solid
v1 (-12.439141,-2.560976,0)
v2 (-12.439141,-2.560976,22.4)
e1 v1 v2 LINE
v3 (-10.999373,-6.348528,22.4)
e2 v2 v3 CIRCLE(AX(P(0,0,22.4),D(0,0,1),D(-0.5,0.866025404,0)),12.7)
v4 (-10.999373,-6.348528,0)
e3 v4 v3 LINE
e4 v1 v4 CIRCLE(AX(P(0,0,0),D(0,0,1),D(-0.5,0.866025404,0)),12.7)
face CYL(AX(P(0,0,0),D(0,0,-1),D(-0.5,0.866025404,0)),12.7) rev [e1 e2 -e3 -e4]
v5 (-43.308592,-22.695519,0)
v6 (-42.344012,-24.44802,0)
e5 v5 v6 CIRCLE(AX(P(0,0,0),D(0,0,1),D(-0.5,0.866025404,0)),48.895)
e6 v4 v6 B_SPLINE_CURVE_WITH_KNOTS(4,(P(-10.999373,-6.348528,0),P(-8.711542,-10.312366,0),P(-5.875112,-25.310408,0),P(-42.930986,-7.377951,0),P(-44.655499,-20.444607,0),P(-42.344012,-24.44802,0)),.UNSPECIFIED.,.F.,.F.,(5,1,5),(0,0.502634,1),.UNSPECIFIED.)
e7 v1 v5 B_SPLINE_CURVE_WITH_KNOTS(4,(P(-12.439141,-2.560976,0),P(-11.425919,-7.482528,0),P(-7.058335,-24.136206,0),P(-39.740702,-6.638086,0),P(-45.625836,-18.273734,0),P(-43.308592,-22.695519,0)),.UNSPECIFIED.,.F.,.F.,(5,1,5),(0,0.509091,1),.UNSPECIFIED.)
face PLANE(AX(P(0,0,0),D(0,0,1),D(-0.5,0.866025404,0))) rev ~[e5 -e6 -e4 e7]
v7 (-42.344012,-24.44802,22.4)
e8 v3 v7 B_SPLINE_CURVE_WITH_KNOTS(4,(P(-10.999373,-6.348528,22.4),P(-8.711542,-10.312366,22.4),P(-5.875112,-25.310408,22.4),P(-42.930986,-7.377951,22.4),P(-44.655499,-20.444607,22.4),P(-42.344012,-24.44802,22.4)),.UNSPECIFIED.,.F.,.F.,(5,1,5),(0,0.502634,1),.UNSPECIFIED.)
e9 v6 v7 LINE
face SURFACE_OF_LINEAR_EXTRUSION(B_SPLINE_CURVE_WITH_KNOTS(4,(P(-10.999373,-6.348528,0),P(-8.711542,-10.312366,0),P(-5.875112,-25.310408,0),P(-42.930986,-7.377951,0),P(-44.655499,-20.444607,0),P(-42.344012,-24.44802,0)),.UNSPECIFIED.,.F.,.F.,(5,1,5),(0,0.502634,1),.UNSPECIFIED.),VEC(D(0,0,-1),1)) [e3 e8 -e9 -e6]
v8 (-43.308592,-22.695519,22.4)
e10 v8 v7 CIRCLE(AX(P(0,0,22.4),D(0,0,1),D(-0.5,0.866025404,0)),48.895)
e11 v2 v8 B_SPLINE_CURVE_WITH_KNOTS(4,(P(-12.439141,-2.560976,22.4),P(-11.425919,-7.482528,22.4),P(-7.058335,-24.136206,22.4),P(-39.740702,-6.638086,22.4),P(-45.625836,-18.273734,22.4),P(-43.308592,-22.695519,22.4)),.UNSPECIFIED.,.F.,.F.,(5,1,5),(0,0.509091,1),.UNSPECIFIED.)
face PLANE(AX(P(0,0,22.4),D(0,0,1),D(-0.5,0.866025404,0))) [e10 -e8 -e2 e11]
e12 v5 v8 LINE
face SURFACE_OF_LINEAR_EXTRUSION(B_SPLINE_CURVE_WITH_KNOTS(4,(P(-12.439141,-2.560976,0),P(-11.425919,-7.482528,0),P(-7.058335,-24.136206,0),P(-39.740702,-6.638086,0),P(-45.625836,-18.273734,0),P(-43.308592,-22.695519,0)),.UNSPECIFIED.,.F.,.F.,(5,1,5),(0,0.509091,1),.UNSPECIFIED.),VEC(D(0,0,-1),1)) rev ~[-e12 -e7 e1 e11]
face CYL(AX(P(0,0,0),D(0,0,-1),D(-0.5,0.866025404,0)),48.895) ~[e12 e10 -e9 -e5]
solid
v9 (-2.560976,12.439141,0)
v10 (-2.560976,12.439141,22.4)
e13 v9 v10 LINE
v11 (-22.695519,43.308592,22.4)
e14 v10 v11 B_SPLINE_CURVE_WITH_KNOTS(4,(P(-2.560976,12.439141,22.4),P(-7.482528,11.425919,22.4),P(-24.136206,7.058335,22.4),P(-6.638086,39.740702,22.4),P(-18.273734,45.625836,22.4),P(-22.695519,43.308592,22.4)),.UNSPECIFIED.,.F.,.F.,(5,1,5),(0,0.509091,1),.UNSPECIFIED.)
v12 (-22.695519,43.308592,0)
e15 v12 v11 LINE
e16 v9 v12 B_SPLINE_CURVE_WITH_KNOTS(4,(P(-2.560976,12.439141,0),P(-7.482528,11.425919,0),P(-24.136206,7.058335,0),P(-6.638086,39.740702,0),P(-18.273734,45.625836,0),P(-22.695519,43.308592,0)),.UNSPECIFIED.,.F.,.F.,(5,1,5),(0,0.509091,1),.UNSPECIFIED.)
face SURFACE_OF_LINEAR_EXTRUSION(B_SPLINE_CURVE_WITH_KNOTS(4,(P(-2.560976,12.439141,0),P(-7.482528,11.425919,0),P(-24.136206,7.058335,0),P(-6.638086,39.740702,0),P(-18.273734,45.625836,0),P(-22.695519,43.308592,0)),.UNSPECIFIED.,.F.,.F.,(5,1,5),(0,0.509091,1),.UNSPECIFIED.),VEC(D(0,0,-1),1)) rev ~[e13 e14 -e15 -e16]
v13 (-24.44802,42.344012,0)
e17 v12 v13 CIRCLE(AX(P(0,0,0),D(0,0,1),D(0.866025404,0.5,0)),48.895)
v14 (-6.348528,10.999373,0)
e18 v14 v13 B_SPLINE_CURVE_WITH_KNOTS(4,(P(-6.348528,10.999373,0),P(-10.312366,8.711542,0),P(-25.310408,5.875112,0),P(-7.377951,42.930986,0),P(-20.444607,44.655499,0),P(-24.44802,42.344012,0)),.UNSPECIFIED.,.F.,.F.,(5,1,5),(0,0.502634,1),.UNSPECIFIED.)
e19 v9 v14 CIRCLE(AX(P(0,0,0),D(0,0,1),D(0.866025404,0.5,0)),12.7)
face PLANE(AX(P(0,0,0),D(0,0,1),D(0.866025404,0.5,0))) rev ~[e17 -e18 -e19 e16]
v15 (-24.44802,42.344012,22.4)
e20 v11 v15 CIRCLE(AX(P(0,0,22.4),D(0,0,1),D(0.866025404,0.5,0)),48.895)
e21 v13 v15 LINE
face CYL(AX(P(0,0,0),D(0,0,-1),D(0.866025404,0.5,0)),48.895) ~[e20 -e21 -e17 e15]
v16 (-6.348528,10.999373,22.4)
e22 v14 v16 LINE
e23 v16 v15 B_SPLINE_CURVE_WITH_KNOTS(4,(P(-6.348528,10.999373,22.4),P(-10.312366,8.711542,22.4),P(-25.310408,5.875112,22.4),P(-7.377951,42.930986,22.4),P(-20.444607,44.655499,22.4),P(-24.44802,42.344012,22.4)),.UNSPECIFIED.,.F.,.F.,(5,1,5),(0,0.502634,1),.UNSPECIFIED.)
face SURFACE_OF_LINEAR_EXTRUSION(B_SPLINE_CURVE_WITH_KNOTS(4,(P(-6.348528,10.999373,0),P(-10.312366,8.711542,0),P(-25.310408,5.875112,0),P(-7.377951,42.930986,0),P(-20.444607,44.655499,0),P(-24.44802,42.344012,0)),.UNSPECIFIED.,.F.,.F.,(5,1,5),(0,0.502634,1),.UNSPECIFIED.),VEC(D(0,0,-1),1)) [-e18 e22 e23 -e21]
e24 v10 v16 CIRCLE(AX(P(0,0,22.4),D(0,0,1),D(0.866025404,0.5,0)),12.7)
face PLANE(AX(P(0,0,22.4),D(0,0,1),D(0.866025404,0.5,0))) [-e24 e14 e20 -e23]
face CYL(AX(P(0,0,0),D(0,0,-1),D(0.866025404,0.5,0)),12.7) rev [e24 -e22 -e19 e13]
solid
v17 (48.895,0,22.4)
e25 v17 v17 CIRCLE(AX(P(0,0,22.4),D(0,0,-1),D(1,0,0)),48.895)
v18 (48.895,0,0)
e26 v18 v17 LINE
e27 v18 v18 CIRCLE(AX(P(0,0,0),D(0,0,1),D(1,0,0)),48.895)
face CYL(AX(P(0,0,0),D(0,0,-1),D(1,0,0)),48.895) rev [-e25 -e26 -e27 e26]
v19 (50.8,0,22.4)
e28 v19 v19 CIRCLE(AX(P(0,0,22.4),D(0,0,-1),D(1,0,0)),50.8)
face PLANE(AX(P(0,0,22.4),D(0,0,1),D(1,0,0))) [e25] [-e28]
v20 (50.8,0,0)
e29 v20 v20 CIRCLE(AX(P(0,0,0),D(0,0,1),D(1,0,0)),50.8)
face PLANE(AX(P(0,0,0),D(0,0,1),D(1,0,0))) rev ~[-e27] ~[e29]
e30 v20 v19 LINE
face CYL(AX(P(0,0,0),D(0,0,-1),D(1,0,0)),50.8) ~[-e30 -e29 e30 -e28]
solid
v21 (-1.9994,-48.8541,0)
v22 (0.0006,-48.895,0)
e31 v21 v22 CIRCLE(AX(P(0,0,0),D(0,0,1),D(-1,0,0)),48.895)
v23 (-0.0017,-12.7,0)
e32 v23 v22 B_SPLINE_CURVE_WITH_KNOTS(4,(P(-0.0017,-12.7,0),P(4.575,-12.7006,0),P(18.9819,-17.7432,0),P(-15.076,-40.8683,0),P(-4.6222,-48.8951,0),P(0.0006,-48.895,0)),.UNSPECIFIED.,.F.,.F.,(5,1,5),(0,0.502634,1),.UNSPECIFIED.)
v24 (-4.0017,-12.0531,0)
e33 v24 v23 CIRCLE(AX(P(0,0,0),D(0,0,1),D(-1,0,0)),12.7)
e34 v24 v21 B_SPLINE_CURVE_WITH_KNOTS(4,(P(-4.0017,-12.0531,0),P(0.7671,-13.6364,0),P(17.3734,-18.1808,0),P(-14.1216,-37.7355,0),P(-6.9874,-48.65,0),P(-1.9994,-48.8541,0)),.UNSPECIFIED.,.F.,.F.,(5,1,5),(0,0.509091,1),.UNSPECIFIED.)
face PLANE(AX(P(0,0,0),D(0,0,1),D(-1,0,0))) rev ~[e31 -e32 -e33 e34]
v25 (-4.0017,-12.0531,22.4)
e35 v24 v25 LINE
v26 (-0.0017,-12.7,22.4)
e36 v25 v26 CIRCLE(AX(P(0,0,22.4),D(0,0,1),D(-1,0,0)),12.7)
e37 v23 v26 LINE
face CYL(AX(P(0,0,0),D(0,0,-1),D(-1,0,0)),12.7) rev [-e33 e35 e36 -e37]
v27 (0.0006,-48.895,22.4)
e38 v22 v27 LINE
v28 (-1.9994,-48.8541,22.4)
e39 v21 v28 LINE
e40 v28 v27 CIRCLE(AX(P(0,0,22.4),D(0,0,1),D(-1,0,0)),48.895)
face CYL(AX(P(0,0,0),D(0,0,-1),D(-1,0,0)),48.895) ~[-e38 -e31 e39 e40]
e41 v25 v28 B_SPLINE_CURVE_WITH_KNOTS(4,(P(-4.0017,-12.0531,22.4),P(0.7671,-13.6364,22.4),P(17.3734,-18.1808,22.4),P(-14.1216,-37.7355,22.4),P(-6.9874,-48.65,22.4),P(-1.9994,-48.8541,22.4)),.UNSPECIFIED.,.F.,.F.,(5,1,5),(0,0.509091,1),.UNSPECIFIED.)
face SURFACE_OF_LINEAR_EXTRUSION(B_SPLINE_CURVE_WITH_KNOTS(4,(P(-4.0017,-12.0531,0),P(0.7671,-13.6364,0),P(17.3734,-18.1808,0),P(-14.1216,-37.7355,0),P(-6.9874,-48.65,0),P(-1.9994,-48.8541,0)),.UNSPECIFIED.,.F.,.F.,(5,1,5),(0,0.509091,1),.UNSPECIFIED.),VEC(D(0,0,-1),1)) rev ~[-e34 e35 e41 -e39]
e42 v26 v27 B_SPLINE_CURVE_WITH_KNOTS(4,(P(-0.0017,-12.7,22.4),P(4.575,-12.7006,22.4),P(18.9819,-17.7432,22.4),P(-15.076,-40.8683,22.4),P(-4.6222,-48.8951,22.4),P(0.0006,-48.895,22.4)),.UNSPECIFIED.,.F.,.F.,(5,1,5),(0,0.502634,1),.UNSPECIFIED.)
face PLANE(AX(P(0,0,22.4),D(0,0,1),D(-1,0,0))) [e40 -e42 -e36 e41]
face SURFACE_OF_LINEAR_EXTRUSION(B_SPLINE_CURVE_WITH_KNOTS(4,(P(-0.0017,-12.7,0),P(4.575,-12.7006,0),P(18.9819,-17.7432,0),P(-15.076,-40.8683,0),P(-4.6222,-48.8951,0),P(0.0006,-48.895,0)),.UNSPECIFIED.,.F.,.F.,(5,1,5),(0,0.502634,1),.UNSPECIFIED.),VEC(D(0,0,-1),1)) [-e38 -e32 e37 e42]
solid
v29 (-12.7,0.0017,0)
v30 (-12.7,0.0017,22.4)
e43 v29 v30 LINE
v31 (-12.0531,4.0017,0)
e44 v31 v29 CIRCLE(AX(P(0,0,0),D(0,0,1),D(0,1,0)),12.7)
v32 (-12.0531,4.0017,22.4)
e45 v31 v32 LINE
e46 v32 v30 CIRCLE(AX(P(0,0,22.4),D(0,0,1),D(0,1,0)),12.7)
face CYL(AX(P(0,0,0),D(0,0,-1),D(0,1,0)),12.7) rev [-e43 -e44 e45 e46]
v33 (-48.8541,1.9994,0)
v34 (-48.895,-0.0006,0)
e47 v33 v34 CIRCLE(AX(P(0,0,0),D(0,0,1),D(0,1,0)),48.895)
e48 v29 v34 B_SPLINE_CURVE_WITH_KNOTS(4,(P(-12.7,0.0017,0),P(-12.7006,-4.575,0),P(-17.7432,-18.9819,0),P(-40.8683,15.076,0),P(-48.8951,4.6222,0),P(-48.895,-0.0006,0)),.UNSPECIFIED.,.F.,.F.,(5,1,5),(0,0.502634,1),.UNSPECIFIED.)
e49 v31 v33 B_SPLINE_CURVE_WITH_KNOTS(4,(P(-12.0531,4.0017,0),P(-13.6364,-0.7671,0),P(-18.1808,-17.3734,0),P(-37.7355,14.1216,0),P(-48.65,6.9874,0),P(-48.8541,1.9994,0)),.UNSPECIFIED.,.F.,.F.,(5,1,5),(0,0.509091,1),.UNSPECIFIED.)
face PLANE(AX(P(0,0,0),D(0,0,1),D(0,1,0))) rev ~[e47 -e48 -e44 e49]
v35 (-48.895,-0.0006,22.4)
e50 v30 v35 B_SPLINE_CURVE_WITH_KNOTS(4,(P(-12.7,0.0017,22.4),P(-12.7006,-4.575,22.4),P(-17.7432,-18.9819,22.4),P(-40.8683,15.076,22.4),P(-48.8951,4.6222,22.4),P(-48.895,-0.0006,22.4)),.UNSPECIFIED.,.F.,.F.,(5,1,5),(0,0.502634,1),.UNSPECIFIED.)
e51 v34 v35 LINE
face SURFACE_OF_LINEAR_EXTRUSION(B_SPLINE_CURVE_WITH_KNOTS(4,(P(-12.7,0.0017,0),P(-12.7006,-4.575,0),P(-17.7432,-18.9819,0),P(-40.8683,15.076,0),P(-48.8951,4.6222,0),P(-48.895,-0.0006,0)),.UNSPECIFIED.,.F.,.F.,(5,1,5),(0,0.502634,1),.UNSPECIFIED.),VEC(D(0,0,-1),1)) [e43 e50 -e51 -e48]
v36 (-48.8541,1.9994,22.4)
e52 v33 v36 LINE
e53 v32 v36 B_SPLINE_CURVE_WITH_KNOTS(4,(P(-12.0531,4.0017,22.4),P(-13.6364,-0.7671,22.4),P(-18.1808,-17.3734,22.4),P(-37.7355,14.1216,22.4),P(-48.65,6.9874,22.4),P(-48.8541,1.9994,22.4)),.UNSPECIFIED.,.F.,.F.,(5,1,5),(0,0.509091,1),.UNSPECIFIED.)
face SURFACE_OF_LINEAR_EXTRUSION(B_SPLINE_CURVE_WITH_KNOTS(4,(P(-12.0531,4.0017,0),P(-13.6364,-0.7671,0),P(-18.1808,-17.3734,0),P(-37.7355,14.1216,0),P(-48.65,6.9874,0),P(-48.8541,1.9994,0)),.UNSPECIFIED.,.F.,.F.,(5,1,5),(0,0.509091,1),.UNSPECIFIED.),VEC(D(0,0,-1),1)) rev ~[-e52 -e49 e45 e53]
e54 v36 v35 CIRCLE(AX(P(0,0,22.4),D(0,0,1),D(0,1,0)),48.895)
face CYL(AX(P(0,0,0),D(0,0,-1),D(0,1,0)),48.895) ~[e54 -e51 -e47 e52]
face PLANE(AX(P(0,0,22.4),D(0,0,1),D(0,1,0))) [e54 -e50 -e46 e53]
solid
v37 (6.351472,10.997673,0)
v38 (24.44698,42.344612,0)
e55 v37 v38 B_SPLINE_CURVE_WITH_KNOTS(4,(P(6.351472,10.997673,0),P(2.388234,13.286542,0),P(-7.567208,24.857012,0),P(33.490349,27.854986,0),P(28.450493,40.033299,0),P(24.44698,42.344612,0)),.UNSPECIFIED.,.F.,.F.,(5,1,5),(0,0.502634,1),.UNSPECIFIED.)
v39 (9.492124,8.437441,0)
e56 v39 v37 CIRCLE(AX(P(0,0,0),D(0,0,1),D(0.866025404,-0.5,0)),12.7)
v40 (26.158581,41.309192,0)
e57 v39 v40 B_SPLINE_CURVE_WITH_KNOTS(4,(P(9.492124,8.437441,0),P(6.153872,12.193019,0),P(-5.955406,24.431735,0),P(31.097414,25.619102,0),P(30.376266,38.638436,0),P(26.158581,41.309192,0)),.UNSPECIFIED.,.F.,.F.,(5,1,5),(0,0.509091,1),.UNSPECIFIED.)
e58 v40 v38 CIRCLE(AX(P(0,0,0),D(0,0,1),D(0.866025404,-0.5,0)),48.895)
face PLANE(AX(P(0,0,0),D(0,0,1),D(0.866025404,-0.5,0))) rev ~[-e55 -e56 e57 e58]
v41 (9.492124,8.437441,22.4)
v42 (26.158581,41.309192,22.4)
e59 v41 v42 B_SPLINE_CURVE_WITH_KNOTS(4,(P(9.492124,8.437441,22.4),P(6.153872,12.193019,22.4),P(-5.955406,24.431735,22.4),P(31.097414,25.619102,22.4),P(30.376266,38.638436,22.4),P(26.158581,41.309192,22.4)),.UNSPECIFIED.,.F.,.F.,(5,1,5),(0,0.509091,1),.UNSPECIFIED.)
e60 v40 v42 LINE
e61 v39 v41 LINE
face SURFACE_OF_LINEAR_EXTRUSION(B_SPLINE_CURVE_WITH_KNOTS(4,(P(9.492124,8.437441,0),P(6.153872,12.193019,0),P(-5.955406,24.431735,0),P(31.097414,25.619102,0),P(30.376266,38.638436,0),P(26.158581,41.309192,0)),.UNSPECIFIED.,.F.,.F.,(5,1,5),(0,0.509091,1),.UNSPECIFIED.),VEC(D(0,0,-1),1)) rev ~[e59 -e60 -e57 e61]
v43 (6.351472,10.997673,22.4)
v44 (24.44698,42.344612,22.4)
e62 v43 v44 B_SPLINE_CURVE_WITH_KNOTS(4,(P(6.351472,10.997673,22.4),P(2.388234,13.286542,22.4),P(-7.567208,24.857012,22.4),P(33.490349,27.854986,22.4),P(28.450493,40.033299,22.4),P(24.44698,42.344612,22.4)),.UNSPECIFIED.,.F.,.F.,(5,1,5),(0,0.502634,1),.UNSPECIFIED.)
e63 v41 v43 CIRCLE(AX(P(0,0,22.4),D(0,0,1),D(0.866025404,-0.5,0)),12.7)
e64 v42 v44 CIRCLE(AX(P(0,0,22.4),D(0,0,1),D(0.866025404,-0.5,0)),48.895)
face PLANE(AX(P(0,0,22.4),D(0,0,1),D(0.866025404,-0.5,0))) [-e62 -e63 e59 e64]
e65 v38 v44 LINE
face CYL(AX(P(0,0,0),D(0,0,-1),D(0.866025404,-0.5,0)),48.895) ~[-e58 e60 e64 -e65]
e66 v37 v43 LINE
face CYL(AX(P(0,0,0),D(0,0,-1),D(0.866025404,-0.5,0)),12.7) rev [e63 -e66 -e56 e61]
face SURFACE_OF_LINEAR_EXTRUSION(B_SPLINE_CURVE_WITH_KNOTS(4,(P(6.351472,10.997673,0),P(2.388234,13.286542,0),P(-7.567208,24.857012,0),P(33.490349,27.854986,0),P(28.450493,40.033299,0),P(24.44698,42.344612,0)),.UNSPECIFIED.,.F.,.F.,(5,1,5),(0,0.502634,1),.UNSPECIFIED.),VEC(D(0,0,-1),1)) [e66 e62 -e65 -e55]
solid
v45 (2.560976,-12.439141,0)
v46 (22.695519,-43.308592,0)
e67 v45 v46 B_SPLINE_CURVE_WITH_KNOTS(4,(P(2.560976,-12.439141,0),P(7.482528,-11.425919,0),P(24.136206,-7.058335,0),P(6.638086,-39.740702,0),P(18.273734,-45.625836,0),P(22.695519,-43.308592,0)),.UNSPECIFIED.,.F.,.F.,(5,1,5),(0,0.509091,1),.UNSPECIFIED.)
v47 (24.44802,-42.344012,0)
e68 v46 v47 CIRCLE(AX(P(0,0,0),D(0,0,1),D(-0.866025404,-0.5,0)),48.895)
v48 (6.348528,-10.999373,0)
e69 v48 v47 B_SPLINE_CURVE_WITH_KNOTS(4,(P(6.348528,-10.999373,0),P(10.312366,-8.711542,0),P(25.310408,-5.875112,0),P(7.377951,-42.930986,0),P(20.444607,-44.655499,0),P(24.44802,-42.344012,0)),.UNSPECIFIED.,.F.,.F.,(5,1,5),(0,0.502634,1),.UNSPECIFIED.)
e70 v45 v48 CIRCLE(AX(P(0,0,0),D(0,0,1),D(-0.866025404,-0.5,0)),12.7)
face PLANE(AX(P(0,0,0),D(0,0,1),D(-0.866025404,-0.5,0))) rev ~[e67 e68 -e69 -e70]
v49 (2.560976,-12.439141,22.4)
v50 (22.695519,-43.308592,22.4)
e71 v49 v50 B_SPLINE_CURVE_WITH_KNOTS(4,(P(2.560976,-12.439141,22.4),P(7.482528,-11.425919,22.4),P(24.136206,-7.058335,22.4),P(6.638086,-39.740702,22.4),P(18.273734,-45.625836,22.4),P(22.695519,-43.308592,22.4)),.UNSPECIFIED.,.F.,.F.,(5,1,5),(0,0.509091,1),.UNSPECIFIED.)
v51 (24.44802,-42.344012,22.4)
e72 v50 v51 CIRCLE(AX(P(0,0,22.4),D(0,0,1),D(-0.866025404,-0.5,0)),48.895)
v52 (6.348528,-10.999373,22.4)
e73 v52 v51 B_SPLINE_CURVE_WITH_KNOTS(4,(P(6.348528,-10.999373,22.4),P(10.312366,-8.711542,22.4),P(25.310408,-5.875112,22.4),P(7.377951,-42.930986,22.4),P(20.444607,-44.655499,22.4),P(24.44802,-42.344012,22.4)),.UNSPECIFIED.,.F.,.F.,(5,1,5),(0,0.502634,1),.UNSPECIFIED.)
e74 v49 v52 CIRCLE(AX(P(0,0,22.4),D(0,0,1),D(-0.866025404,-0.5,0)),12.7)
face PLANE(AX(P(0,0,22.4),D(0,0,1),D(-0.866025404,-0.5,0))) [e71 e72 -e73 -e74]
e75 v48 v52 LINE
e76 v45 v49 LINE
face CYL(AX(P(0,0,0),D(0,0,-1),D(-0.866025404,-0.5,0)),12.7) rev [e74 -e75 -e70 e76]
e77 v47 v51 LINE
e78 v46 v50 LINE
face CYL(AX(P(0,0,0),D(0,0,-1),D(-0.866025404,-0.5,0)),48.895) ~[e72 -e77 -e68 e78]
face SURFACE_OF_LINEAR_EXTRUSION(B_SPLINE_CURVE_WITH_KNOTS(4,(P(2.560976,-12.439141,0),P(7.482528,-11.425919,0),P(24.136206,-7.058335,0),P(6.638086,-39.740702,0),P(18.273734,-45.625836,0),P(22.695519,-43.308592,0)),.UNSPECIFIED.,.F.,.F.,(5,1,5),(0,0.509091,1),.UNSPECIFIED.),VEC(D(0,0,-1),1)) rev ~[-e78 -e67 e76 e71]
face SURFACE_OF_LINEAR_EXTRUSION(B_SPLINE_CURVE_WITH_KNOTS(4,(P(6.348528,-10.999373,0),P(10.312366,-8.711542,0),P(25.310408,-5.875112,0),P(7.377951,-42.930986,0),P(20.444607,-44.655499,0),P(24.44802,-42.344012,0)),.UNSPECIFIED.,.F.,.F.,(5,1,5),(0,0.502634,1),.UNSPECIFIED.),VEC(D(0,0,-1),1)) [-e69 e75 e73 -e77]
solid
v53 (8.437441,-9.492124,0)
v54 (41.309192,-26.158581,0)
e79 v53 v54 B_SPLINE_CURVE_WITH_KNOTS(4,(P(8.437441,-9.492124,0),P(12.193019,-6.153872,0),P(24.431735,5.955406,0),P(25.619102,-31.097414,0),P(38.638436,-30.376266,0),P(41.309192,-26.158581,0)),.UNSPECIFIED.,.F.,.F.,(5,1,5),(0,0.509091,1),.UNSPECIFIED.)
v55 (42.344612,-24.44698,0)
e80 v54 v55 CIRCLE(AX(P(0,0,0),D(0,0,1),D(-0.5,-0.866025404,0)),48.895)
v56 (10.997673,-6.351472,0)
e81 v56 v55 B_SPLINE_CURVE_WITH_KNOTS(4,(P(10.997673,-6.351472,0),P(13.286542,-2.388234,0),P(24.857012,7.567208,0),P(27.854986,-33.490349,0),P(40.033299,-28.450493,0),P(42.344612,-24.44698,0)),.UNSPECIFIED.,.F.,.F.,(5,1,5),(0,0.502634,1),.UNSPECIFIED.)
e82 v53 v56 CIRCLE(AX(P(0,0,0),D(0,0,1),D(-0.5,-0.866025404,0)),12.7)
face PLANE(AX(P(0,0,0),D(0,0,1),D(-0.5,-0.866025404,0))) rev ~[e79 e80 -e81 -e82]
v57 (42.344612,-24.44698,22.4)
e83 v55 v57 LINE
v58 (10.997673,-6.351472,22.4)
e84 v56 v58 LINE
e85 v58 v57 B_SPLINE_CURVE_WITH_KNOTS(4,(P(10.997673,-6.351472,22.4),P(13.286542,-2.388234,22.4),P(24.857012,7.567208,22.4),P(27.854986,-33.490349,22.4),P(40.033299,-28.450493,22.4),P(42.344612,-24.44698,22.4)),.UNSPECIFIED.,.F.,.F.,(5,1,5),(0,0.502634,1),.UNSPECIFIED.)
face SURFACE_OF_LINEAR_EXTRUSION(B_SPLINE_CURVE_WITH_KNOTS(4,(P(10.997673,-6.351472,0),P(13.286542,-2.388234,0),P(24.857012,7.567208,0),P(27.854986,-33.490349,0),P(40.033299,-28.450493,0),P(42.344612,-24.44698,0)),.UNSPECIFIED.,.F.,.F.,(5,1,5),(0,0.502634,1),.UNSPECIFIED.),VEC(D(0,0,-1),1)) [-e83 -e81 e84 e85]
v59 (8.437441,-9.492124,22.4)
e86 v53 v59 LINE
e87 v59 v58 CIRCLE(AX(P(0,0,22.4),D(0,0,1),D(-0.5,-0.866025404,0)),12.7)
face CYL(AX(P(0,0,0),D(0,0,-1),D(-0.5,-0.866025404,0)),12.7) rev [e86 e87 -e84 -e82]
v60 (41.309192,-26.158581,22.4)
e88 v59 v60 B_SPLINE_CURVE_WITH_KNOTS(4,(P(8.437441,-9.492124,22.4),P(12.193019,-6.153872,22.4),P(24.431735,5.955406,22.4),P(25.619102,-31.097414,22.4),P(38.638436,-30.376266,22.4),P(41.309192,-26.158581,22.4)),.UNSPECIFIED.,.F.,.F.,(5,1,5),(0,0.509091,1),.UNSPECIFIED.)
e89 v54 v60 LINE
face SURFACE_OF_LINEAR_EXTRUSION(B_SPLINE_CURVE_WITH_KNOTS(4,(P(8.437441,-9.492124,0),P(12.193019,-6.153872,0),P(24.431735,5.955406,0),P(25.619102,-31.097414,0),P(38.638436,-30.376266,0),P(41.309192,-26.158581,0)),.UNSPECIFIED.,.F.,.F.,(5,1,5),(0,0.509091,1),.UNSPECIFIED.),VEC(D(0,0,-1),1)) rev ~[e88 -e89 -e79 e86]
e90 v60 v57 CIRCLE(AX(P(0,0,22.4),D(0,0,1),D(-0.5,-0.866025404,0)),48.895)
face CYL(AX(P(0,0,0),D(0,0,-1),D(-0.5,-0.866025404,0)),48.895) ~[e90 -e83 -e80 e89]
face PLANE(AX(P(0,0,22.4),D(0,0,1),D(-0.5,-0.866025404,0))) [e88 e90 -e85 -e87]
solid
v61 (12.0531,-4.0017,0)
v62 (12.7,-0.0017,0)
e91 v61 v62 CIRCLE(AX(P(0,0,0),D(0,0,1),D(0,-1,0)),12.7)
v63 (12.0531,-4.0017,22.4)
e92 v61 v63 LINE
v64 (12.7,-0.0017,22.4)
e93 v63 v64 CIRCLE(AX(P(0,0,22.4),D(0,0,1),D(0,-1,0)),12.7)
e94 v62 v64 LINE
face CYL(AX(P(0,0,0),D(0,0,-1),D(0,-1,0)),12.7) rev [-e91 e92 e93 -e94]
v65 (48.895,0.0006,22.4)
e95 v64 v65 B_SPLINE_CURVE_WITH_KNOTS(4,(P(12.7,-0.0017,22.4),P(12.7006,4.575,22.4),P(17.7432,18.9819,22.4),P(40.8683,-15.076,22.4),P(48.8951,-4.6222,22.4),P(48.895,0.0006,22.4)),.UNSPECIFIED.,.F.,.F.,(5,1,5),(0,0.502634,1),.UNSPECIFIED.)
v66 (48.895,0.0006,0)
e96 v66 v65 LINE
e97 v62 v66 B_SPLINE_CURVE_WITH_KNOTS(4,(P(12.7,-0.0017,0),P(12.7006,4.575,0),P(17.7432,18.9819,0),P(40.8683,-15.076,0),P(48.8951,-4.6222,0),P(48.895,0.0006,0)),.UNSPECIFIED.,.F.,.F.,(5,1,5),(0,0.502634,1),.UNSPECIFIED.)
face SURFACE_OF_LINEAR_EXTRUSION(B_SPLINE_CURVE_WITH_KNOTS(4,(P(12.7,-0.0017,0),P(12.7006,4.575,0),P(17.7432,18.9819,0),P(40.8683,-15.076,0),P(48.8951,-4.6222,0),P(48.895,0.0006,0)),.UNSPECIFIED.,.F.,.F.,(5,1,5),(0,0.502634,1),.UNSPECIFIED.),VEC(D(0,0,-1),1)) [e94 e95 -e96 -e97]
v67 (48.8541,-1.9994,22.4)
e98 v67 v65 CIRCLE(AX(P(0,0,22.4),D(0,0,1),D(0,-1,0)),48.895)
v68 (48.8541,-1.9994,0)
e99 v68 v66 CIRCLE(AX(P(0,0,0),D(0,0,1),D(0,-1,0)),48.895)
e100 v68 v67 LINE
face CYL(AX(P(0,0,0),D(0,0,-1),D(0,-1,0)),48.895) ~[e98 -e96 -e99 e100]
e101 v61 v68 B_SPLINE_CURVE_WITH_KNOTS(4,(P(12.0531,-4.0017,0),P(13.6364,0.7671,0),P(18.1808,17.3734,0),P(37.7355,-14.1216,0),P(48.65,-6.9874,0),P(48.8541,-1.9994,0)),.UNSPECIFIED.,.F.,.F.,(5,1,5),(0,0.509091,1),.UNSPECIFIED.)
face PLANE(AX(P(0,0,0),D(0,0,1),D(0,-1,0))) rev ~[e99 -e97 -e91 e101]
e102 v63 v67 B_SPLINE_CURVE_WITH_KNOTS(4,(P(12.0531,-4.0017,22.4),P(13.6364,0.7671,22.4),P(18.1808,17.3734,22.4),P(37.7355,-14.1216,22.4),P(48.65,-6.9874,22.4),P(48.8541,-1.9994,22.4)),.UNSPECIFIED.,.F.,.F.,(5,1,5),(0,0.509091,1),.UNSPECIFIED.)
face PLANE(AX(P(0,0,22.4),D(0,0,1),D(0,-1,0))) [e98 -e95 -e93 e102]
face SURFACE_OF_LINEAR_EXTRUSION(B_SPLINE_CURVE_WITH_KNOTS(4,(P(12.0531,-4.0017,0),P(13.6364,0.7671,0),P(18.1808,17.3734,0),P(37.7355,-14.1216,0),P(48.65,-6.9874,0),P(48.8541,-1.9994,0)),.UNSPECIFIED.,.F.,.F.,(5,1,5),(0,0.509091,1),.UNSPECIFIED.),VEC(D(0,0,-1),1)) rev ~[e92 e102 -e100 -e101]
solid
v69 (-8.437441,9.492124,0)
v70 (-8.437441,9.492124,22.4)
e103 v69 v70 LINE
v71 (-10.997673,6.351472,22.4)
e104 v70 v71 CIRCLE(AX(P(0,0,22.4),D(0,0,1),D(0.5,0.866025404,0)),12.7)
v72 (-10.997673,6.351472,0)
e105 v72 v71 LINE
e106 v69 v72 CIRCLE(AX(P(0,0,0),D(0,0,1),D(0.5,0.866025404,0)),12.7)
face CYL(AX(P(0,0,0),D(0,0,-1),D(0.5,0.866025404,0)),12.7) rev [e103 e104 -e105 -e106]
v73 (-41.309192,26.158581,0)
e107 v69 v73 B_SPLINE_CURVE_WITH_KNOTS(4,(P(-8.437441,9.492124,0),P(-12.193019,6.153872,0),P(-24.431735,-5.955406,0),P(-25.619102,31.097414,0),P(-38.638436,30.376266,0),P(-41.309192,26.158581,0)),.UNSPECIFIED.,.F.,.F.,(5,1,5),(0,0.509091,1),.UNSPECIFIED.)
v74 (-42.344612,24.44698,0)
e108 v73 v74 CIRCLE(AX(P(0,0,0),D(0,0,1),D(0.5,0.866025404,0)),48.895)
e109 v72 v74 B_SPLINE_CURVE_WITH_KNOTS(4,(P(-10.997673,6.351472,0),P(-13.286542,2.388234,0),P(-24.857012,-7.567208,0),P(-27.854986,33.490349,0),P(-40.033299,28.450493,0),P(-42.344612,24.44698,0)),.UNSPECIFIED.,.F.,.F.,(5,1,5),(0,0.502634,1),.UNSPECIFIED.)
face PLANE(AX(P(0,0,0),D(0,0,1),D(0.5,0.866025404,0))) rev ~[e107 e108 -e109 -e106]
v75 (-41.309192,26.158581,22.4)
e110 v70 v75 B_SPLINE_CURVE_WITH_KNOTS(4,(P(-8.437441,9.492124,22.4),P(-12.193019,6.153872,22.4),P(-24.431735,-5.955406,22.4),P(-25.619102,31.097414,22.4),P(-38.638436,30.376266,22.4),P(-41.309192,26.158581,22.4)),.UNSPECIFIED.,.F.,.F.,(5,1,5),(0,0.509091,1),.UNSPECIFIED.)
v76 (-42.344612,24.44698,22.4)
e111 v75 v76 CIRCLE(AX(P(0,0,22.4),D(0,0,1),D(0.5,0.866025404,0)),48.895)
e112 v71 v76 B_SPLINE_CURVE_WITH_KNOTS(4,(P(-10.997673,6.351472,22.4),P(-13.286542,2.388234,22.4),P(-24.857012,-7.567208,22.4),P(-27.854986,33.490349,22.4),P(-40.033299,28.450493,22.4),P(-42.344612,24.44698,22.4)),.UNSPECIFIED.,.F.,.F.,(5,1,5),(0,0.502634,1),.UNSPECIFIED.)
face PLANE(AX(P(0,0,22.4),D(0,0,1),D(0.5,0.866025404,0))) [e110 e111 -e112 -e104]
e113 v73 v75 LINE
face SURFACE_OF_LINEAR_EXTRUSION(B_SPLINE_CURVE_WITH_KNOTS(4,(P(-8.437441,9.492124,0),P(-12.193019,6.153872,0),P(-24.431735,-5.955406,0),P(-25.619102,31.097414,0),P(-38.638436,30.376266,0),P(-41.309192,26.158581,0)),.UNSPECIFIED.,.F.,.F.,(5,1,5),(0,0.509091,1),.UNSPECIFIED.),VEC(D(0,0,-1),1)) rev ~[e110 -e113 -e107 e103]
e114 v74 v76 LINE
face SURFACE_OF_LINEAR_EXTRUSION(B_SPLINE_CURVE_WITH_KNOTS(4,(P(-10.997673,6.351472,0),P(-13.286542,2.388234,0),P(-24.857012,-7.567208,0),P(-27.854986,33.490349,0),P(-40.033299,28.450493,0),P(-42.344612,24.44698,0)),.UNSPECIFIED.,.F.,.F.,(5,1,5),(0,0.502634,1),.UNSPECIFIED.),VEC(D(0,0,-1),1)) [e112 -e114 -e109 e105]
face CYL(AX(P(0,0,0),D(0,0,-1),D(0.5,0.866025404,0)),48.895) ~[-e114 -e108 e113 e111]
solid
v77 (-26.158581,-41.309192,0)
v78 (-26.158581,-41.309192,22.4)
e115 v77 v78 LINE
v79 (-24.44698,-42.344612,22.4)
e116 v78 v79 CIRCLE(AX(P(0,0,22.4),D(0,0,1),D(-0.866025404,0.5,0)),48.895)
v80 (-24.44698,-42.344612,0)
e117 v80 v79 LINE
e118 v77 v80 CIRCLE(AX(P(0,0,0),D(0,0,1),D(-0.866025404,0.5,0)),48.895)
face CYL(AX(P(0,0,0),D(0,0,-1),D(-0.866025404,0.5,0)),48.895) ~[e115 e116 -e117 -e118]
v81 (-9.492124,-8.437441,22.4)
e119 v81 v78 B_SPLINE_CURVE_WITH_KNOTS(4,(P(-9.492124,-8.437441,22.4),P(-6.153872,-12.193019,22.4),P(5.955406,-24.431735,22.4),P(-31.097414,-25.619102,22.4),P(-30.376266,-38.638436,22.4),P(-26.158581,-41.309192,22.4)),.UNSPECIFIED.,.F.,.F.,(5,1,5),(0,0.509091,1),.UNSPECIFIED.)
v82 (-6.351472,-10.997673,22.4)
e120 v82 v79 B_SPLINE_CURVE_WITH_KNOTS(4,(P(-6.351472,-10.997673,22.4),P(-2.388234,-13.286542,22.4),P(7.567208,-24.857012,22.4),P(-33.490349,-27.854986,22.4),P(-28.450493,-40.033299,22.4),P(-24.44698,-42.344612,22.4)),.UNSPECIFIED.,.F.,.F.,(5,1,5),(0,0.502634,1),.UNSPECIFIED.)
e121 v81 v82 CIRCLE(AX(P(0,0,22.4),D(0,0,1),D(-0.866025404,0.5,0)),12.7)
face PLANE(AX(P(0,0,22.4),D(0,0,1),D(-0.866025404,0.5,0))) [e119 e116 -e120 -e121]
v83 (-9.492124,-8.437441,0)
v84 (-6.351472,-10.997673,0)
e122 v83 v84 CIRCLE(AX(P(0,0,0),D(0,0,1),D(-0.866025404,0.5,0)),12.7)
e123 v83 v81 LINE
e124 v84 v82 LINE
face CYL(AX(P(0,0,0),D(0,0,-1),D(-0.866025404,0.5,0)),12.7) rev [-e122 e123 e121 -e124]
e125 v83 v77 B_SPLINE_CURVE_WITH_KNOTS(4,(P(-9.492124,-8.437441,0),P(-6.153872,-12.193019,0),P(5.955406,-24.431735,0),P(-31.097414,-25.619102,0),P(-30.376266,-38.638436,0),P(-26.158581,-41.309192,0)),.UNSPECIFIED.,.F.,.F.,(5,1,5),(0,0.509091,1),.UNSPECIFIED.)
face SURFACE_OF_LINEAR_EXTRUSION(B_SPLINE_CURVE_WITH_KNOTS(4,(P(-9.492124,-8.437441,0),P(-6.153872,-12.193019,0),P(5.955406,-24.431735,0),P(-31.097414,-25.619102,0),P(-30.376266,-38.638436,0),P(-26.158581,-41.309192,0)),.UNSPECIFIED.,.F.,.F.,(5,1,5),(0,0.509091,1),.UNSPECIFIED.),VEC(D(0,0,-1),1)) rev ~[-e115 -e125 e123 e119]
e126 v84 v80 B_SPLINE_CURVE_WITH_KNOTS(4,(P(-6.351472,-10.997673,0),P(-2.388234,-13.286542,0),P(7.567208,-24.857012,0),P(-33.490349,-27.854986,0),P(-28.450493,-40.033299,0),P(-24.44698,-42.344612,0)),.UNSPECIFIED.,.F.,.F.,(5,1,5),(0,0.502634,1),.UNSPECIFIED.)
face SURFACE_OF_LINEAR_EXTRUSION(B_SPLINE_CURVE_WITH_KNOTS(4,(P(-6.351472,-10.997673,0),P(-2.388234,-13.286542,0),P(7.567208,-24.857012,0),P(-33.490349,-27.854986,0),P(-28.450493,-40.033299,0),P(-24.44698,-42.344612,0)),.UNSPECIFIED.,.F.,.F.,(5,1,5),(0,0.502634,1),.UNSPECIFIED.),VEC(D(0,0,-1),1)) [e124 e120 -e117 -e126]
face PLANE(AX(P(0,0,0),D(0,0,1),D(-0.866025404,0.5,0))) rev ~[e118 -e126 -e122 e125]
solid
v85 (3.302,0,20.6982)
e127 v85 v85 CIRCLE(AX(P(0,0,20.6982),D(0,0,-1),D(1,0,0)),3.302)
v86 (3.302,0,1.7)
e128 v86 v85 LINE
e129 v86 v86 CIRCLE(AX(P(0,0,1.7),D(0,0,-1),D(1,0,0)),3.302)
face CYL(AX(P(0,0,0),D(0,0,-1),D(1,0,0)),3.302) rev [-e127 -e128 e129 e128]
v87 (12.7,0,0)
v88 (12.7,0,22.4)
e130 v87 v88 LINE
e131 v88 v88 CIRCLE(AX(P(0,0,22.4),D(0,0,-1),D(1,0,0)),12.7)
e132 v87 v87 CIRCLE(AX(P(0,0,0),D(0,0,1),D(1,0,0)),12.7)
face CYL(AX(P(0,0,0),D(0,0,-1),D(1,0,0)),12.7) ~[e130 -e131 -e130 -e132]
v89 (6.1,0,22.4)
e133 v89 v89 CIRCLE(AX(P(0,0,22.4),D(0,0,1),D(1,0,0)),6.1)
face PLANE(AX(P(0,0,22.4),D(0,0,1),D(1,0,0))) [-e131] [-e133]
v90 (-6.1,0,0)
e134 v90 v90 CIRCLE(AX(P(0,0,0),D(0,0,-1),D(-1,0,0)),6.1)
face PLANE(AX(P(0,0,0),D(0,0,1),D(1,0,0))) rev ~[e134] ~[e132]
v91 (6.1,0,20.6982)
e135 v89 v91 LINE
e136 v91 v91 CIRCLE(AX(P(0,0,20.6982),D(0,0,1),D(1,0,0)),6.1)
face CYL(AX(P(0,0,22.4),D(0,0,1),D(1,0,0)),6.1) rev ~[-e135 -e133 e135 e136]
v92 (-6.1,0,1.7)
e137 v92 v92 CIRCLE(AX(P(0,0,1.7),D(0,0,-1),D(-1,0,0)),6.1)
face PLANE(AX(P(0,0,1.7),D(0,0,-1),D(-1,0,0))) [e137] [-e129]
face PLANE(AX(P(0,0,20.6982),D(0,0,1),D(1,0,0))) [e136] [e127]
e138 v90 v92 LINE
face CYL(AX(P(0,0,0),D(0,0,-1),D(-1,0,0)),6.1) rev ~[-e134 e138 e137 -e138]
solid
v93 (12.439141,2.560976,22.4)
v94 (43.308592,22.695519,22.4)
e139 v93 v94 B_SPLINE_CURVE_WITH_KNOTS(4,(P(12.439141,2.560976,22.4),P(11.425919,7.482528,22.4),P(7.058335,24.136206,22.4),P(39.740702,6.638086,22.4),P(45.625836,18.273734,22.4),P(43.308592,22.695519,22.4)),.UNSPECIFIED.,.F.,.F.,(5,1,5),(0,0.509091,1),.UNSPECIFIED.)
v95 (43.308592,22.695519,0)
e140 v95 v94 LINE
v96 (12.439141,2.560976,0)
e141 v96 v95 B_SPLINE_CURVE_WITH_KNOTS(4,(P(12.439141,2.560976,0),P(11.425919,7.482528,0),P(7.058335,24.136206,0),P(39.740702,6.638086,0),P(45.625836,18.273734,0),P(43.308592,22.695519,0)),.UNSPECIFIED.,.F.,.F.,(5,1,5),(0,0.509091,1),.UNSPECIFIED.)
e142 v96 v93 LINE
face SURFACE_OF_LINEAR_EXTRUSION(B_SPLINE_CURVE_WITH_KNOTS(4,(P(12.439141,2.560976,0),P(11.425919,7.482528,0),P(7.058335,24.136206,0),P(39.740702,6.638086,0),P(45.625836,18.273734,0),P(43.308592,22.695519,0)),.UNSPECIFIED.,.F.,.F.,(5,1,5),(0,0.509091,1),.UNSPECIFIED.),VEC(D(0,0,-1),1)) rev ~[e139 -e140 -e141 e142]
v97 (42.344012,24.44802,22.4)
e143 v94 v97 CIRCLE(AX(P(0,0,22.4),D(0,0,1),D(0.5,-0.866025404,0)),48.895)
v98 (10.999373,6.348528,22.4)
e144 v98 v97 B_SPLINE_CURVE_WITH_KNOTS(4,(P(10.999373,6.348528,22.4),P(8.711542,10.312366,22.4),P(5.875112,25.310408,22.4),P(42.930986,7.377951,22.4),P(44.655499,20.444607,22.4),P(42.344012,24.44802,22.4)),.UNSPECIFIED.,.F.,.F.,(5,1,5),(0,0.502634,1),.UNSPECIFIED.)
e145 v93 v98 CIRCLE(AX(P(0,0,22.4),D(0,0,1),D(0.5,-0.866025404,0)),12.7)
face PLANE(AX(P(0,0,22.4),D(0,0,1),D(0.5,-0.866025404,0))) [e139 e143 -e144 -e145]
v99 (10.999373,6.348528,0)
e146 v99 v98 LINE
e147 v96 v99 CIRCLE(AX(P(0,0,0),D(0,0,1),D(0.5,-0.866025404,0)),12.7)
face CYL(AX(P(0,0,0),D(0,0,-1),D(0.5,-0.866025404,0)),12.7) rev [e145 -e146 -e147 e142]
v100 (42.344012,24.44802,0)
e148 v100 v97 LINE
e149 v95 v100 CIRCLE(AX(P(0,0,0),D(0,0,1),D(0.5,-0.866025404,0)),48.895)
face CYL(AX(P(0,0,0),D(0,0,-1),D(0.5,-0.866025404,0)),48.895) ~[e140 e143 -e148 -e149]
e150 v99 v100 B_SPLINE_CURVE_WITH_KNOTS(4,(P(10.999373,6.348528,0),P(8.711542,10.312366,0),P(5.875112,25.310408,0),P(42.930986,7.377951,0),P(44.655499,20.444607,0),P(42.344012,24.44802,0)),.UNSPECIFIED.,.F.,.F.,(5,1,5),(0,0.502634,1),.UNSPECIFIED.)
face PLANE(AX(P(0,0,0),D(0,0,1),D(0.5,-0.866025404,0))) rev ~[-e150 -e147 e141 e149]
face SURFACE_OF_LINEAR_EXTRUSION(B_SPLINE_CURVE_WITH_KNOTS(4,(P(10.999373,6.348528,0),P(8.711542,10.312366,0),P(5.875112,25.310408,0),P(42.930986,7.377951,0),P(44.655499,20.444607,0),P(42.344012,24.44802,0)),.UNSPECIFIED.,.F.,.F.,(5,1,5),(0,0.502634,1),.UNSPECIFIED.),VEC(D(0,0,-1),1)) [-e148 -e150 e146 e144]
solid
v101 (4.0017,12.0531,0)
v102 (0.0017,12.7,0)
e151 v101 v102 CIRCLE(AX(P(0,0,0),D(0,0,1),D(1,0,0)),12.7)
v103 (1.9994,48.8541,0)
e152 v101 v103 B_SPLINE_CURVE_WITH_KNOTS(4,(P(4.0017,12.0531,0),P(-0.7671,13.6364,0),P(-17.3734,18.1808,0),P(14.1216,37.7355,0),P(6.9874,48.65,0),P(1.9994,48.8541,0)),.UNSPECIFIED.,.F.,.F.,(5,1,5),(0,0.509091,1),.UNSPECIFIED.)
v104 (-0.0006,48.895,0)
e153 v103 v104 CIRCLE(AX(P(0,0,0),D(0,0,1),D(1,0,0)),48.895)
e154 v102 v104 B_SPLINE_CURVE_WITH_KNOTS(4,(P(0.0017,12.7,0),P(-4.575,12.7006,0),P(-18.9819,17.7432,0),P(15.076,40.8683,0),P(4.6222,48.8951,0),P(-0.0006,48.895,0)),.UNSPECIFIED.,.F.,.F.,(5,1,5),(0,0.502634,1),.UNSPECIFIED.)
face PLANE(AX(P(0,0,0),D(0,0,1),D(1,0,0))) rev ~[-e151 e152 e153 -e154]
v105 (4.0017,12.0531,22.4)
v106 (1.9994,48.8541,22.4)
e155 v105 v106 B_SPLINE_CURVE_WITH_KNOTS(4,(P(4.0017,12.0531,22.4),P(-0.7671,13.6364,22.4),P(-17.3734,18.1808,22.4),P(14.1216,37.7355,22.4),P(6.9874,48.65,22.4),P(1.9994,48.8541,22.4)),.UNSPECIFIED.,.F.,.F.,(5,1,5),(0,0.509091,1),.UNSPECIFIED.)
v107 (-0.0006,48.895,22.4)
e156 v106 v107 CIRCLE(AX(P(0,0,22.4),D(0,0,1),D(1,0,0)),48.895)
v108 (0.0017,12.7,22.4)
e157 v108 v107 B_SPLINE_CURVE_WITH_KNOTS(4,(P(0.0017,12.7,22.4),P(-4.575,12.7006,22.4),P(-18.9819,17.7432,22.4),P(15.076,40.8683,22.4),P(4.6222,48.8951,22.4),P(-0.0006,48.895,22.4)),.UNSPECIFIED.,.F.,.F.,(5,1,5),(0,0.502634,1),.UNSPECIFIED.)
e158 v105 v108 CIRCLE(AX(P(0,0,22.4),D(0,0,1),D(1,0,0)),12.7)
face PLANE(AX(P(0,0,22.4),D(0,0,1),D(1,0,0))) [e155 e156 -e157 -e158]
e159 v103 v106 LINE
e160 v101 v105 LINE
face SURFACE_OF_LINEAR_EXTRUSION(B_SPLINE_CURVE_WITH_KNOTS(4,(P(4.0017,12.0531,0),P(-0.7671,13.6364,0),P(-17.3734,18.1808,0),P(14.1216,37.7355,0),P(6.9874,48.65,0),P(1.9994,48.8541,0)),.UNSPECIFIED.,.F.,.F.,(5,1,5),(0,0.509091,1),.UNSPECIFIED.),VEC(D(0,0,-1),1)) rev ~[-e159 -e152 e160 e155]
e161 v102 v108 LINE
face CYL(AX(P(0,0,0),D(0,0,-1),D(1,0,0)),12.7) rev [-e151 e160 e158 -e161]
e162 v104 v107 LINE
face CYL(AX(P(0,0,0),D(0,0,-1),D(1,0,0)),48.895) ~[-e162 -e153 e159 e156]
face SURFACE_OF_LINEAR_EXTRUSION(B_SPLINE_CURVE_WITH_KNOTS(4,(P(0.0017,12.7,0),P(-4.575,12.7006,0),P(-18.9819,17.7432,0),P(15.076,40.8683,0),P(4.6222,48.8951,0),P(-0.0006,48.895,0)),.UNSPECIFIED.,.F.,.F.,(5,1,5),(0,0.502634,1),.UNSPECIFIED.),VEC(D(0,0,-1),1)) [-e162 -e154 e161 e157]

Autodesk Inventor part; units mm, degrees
ref_plane "YZ Plane" through (0, 0, 0) normal (1, 0, 0) x (0, 1, 0)
ref_plane "XZ Plane" through (0, 0, 0) normal (0, 1, 0) x (-1, 0, 0)
ref_plane "XY Plane" through (0, 0, 0) normal (0, 0, 1) x (1, 0, 0)
sketch "Sketch1" plane through (0, 0, 0) normal (0, 0, 1) x (1, 0, 0)
  circle A0 centre (0, 0) radius 48.895
  circle A1 centre (0, 0) radius 12.7
  circle A2 centre (0, 0) radius 3.302
  circle A3 centre (0, 0) radius 50.8
  spline S0 degree 4 poles (0.0017, 12.7) (-4.575, 12.7006) (-18.9819, 17.7432) (15.076, 40.8683) (4.6222, 48.8951) (-0.0006, 48.895) knots 0 0 0 0 0 0.502634 1 1 1 1 1
  spline S1 degree 4 poles (4.0017, 12.0531) (-0.7671, 13.6364) (-17.3734, 18.1808) (14.1216, 37.7355) (6.9874, 48.65) (1.9994, 48.8541) knots 0 0 0 0 0 0.509091 1 1 1 1 1
  point P0 (-8.0822, 8.0822)
  point P1 (-11.43, 0)
  point P2 (-8.0822, -8.0822)
  point P3 (0, -11.43)
  point P4 (8.0822, -8.0822)
  point P5 (11.43, 0)
  point P6 (8.0822, 8.0822)
  point P7 (0, 50.8)
  point P8 (-7.4232, 17.7252)
  point P9 (5.7258, 42.9245)
  point P10 (-5.0198, 19.0011)
  point P11 (6.8386, 41.5463)
  point P12 (4.0017, 12.0531)
  dimension "d19" = 101.6
  dimension "d0" = 97.79
  dimension "d2" = 25.4
  dimension "d14" = 6.604
  dimension "d61" = 2
  dimension "d62" = 4
extrude "Extrusion5" add sketch "Sketch1" along normal blind 22.4 contours S1 A1 S0 A0 picked at (-1.6908, 27.5381)
extrude "Extrusion1" add sketch "Sketch1" along normal blind 22.4 separate body contours A1 | A3
pattern_circular "Circular Pattern2" count 12 over 360 about axis through (0, 0, 0) along (0, 0, 1) bodies 2 1
sketch "Sketch5" plane through (0, 0, 0) normal (0, 0, -1) x (-1, 0, 0)
  circle A0 centre (0, 0) radius 6.1
  dimension "d52" = 12.2
extrude "Extrusion3" cut sketch "Sketch5" against normal blind 1.7 bodies 2
sketch "Sketch6" plane through (0, 0, 22.4) normal (0, 0, 1) x (1, 0, 0)
  circle A0 centre (0, 0) radius 6.1
extrude "Extrusion4" cut sketch "Sketch6" against normal blind 1.7018 bodies 2
properties part number "12spoke_wheel"
